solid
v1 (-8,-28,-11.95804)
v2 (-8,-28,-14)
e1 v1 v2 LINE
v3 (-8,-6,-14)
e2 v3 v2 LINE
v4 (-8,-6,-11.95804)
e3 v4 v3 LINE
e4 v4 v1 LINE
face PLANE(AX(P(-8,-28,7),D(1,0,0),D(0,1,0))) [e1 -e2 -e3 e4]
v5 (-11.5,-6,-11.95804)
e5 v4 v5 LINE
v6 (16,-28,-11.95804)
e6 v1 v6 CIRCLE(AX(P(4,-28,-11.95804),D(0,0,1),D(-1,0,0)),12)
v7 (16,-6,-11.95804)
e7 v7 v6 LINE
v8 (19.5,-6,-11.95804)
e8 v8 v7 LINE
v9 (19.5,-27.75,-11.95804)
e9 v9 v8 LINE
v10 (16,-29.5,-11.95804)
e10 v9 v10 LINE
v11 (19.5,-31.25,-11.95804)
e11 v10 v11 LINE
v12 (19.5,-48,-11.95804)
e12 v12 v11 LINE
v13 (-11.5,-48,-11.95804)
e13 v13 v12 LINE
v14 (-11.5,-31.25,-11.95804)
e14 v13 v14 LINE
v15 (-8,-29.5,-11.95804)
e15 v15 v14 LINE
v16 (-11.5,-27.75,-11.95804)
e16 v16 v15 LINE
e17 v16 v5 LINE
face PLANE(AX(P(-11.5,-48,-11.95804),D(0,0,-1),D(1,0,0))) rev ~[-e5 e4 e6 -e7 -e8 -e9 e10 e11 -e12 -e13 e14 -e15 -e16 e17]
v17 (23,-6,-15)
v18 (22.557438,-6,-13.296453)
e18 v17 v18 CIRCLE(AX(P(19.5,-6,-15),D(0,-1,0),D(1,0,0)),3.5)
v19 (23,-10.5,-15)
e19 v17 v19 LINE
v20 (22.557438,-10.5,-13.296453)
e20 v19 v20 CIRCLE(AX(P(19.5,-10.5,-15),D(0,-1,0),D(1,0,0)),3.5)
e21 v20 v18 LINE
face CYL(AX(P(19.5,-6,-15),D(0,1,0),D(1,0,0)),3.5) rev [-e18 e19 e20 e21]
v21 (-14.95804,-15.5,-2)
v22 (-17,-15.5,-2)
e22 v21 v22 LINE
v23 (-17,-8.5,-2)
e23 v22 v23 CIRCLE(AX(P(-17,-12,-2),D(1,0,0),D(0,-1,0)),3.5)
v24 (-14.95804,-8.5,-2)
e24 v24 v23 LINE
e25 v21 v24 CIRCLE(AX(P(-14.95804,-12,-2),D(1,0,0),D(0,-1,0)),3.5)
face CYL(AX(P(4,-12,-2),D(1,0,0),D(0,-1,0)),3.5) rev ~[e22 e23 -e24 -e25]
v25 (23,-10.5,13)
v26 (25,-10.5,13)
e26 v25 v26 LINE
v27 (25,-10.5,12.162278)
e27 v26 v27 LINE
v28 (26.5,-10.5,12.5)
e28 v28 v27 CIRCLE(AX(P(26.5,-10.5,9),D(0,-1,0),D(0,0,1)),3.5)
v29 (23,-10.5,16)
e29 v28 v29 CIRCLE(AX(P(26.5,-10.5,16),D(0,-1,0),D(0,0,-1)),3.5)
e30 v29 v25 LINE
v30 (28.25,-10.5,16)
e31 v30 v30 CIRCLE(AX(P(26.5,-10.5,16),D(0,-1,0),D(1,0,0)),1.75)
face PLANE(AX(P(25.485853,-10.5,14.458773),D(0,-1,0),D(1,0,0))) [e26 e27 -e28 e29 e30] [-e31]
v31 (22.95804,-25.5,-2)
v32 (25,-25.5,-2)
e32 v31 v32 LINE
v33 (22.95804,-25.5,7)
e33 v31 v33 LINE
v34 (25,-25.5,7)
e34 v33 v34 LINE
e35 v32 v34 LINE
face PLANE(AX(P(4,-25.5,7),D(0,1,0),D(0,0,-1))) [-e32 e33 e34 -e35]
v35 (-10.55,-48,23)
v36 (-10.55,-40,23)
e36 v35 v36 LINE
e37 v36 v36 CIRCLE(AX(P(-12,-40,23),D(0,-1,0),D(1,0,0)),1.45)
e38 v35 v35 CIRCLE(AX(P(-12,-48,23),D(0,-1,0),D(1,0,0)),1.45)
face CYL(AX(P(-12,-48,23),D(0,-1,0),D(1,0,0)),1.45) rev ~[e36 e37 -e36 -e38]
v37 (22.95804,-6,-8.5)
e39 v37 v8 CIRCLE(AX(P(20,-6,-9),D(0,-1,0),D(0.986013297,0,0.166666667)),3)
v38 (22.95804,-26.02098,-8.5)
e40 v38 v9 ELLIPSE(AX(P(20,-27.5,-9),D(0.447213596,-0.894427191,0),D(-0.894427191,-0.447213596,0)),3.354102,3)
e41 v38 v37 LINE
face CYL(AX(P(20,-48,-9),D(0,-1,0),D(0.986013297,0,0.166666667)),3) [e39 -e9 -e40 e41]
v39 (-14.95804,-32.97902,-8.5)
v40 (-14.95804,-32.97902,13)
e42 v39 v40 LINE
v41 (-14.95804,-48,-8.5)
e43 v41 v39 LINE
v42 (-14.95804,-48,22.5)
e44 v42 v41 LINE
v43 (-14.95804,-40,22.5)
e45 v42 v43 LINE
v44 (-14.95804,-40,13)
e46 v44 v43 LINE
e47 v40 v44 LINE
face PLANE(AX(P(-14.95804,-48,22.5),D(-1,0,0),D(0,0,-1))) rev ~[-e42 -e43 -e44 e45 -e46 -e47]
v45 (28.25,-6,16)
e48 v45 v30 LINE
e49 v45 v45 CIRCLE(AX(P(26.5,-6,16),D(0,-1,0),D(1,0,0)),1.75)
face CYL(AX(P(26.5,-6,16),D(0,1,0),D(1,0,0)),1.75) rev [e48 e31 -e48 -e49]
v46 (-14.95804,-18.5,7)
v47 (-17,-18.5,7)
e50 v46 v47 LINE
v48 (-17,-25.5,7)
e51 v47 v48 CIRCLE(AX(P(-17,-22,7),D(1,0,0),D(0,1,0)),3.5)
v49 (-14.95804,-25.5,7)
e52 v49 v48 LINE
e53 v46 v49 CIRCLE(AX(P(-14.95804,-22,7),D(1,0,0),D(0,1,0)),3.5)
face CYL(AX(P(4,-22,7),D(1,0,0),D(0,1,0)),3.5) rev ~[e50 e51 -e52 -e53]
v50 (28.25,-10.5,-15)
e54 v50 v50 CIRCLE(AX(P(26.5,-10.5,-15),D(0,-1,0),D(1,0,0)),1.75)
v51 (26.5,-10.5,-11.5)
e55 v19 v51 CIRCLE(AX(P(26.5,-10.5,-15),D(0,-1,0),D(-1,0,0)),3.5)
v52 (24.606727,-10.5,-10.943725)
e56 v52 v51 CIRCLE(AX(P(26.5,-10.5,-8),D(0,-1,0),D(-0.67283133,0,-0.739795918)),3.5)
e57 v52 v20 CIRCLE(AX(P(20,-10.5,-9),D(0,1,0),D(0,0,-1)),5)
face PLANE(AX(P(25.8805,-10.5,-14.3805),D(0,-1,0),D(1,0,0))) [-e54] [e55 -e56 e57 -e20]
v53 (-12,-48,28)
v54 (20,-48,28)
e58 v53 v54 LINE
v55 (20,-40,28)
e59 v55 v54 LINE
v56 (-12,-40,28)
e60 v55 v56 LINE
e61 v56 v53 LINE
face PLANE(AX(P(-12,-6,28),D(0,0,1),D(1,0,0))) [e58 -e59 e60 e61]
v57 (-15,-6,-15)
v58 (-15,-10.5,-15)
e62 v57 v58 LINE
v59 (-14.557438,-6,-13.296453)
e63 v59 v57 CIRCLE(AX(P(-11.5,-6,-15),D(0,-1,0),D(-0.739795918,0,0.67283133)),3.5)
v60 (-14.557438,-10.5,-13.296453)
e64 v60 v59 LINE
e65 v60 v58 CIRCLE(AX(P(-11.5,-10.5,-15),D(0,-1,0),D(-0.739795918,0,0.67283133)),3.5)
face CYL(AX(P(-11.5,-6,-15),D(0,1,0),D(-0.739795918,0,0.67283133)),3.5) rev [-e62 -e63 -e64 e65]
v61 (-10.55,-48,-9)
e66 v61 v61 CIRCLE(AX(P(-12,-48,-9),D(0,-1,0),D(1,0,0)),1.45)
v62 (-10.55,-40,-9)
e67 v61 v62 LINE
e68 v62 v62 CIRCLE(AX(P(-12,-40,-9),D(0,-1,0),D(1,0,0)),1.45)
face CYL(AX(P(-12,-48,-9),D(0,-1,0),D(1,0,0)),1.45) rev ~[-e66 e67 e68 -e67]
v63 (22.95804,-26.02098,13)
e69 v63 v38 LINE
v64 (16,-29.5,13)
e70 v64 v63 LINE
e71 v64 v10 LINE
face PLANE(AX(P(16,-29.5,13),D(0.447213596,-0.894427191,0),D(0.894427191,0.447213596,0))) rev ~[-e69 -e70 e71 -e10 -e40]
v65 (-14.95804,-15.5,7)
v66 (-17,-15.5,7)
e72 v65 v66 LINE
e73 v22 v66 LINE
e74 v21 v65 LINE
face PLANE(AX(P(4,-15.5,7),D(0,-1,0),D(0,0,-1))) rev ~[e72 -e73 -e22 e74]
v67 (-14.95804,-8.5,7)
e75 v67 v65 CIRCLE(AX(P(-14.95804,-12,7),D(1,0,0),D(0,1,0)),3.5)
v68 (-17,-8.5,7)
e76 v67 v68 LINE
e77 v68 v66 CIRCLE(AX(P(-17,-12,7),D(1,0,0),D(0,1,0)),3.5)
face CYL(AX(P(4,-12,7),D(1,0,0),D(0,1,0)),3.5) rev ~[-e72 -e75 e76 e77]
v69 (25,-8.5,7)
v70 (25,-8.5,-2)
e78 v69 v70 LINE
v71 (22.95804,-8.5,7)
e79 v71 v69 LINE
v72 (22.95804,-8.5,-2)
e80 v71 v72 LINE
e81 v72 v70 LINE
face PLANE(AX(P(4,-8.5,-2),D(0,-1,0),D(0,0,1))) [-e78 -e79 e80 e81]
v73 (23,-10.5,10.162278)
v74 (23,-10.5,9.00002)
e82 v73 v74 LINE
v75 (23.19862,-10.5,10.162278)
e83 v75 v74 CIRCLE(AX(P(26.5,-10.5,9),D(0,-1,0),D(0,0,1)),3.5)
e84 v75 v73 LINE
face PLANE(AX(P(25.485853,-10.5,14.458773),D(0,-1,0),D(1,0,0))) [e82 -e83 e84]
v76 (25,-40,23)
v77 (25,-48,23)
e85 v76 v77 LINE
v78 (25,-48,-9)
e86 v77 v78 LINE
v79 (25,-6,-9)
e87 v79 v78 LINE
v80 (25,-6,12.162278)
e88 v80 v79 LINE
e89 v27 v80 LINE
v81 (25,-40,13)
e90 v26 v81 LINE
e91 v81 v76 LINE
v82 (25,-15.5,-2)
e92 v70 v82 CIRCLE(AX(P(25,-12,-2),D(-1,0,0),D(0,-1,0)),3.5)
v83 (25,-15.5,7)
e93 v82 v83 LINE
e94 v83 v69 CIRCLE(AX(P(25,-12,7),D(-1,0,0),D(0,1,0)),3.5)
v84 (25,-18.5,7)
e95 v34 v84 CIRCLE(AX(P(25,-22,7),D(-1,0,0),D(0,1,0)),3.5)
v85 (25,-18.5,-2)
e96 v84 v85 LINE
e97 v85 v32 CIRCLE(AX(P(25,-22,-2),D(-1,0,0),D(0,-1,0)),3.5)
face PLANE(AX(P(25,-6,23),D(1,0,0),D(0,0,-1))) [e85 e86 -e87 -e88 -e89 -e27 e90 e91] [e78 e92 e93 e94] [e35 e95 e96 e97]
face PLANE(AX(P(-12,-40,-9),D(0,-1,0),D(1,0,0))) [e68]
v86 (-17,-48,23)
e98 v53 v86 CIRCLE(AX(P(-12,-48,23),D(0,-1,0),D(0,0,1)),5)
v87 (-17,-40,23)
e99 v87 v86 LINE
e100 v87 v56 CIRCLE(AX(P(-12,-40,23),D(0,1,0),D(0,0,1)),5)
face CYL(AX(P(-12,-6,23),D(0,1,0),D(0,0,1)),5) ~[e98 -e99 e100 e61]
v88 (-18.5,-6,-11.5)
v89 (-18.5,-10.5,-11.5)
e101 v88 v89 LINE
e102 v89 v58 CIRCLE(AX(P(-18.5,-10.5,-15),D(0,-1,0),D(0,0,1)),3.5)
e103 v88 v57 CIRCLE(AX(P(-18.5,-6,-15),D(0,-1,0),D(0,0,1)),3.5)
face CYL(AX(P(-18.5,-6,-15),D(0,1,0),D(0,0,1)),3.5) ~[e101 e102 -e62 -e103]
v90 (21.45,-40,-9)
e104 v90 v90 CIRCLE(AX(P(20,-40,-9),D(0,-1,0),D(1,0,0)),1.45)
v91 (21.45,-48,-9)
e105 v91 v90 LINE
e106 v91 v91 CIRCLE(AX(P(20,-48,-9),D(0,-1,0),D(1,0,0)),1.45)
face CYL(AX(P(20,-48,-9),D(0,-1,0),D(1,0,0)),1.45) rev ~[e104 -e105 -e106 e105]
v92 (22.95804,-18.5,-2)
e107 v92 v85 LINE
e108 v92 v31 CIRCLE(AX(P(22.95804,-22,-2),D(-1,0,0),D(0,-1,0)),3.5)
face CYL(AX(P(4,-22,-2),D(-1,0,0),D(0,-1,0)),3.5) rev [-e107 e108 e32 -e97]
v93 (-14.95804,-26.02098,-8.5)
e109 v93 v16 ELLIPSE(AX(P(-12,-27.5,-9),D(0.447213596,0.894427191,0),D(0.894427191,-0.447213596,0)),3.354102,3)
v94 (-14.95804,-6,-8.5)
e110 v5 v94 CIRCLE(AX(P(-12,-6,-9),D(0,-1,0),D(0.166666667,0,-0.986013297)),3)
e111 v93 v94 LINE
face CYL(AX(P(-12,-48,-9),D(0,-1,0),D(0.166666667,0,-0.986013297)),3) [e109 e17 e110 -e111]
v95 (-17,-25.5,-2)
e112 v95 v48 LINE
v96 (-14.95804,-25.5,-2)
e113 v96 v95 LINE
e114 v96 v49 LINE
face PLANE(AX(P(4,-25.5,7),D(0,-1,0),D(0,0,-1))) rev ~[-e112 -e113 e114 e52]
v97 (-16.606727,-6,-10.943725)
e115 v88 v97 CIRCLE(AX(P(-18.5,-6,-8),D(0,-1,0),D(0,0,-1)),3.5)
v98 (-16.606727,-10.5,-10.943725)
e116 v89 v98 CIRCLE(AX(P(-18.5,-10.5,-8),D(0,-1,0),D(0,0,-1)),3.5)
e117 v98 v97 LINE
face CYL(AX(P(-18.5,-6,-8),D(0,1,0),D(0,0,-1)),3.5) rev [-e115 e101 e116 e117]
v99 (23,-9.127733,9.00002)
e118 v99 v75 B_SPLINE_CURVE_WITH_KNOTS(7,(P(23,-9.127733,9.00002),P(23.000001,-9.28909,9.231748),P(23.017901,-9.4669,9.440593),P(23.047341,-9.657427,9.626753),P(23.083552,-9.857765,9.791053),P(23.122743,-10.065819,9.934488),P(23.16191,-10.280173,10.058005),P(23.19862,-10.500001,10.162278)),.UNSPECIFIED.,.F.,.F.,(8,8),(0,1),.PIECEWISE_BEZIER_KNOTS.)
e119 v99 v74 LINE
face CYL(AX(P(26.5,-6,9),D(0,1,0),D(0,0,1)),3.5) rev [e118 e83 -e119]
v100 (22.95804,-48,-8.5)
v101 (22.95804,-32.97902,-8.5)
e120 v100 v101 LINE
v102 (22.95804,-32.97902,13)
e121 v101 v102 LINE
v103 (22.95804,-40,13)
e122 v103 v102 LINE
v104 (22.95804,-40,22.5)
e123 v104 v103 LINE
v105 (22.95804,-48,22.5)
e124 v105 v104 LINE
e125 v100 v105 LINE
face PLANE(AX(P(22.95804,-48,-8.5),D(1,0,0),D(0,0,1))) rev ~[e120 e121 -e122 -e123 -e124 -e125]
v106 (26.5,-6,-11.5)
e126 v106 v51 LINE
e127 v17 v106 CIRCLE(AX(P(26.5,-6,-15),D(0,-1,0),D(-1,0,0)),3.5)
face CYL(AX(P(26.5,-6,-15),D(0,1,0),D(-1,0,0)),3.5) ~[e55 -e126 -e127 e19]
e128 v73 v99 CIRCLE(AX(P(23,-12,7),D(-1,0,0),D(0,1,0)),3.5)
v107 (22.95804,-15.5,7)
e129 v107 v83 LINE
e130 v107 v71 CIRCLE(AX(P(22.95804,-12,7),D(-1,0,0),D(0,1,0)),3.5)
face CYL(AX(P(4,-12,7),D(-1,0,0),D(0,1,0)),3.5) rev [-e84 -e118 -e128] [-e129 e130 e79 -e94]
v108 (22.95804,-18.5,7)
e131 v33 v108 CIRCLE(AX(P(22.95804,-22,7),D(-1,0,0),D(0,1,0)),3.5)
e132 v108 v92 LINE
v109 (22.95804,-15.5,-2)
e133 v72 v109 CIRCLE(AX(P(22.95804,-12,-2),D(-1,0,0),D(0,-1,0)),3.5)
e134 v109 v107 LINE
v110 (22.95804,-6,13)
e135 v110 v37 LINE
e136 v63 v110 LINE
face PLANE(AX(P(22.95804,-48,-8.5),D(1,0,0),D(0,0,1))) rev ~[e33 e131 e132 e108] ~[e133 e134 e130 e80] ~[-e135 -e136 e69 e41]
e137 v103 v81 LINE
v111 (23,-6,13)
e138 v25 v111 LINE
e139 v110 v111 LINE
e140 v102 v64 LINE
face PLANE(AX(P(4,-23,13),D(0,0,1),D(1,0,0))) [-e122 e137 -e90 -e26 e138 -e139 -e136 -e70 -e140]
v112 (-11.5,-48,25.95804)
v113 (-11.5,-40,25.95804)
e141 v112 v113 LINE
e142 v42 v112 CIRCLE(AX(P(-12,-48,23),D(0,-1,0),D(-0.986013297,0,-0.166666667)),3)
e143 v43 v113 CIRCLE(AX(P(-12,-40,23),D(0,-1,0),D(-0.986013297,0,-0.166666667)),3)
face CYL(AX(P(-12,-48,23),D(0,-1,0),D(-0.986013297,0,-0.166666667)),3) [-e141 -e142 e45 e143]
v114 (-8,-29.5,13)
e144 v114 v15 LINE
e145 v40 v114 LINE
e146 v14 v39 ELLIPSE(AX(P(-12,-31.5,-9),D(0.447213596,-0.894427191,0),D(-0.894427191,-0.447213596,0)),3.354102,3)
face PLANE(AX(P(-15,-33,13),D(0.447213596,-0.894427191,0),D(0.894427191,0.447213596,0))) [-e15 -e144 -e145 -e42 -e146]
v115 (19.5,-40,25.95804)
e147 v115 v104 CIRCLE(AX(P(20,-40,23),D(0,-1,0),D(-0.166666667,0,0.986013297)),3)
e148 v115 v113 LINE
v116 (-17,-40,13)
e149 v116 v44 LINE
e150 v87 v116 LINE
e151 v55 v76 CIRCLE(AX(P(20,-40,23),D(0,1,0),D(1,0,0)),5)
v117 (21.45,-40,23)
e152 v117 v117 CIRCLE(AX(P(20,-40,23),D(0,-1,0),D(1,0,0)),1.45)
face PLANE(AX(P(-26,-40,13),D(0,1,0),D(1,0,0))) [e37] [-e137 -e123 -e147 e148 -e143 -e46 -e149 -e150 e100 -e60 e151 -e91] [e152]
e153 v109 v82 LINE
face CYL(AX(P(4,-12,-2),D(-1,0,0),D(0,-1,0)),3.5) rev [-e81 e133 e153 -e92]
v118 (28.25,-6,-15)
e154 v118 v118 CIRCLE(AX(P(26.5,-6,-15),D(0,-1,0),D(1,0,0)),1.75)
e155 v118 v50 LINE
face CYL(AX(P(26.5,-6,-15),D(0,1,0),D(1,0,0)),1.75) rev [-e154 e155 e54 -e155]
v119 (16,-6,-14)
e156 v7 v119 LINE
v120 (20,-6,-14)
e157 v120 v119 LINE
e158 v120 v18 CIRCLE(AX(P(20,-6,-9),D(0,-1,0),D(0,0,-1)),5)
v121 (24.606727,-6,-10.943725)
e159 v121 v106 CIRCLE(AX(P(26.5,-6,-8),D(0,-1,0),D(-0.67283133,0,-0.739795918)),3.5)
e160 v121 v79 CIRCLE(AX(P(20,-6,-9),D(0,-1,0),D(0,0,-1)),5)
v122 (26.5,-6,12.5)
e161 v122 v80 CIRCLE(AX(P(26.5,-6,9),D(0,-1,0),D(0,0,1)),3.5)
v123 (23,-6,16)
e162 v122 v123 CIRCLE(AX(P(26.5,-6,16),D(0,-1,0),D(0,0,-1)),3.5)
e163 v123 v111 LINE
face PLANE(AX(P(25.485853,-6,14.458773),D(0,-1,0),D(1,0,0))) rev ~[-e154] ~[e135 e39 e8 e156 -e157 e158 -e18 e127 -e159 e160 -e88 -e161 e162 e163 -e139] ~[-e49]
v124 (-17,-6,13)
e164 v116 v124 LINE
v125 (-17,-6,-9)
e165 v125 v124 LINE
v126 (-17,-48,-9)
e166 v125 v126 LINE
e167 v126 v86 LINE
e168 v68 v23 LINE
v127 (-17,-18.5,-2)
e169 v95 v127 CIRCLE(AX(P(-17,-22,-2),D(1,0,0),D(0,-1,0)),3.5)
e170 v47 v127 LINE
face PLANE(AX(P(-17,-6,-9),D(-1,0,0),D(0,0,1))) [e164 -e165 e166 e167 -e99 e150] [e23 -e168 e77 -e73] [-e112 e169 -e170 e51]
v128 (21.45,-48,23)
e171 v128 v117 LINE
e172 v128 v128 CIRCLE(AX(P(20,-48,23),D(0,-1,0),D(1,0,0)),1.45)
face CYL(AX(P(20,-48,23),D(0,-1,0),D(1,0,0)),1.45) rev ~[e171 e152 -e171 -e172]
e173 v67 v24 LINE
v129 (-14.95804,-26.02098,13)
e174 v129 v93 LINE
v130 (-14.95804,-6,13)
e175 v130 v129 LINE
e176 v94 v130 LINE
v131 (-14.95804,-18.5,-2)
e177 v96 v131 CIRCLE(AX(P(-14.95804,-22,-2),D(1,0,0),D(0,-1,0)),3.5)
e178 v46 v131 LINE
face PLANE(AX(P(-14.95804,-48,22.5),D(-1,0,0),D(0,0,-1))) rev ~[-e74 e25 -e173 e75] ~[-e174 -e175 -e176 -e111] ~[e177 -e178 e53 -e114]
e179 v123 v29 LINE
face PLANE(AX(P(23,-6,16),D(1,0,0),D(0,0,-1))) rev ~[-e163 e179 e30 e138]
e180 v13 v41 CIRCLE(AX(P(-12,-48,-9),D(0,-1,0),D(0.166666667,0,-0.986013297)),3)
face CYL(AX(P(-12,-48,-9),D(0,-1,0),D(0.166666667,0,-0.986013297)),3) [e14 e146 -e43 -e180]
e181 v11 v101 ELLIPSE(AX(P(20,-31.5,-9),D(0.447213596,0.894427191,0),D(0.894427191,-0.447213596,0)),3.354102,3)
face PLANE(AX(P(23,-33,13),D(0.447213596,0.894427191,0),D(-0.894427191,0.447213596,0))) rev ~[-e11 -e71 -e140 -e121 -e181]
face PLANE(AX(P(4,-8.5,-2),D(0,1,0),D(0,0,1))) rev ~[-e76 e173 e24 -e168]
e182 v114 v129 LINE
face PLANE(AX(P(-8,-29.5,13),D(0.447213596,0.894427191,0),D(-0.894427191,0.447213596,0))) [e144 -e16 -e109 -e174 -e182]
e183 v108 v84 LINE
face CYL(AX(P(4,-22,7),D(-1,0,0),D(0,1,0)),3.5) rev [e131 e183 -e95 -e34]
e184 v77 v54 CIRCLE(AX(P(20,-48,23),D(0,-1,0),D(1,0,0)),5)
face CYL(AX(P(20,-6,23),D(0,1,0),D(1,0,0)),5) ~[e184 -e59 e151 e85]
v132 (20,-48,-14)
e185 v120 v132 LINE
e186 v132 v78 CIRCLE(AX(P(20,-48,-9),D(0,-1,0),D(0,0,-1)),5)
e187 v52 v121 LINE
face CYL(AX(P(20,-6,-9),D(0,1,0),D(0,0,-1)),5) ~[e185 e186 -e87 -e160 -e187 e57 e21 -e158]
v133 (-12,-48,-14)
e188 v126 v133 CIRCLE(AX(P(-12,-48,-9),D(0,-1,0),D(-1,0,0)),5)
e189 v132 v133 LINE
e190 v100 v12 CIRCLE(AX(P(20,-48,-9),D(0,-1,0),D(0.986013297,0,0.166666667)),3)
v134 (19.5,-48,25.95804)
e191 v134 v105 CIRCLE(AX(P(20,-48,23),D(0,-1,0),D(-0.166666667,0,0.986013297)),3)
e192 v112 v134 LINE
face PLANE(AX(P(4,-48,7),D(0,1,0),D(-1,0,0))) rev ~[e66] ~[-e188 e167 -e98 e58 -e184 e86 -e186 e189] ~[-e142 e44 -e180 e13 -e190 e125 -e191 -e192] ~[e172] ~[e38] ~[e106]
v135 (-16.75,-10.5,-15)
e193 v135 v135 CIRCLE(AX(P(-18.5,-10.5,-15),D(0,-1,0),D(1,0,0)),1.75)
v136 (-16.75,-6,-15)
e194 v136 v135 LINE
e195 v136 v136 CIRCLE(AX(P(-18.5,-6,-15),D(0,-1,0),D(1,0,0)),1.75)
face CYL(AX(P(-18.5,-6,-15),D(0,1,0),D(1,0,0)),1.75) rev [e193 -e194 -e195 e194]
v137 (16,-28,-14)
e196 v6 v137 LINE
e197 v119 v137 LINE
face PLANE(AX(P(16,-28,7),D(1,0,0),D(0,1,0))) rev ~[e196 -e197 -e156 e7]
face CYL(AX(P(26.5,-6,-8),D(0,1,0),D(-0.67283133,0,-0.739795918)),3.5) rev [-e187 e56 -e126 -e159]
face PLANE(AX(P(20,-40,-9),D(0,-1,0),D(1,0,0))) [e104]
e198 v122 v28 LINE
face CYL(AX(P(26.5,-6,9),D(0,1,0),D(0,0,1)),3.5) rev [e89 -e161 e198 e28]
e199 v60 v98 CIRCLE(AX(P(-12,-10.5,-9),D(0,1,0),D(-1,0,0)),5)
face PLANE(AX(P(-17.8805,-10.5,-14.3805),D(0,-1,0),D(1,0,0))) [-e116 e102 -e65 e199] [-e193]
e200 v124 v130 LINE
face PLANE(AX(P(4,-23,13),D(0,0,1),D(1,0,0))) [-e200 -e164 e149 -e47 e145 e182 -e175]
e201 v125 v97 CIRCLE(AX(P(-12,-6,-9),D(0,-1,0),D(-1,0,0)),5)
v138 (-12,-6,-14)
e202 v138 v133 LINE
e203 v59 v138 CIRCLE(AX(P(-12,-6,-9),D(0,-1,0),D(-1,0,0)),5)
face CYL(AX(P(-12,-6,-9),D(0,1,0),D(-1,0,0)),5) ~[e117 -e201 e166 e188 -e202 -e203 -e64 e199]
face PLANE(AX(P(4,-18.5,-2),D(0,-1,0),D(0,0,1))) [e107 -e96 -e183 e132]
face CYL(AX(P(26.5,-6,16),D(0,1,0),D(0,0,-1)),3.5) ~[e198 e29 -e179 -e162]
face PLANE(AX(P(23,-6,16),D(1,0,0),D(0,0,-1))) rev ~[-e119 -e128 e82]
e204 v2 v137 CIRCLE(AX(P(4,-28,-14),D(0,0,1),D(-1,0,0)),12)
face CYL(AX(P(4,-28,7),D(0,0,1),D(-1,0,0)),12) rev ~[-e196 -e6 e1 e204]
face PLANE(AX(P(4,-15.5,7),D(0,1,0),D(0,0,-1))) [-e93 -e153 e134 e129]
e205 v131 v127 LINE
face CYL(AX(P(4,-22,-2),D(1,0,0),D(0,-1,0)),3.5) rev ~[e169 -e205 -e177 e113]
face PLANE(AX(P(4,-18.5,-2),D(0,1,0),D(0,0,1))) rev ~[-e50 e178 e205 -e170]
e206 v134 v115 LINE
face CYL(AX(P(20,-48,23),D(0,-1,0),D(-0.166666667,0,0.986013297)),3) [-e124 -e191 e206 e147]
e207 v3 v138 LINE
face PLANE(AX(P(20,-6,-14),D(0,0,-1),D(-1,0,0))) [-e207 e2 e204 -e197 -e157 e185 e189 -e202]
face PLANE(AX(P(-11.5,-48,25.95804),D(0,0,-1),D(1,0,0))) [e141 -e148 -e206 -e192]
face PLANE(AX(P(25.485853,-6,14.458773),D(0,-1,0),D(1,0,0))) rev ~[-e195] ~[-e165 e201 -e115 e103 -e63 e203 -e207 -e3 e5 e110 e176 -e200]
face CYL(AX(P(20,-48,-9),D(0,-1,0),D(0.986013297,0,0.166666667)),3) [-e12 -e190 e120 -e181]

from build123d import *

# Parameters (mm, degrees)
PAD003_DEPTH         = 42
SKETCH008_W          = 60
SKETCH008_H          = 34
POCKET004_DEPTH      = 15.001
SKETCH009_R          = 1.45
POCKET005_DEPTH      = 8
POCKET006_DEPTH      = 42.001
POCKET008_DEPTH      = 21.001
POCKET008_DEPTH_BACK = 21.001
SKETCH013_R          = 1.75
PAD004_DEPTH         = 4.5
POCKET_DEPTH         = 25.501
PAD015_DEPTH         = 25


with BuildPart() as part:
    # Sketch006 → Pad003 (new body)
    with BuildSketch(Plane.XZ):
        with BuildLine():
            Line((-16, 21), (16, 21))
            ThreePointArc((21, 16), (19.5355339059, 19.5355339059), (16, 21))
            Line((21, 16), (21, -16))
            ThreePointArc((16, -21), (19.5355339059, -19.5355339059), (21, -16))
            Line((16, -21), (-16, -21))
            ThreePointArc((-21, -16), (-19.5355339059, -19.5355339059), (-16, -21))
            Line((-21, -16), (-21, 16))
            ThreePointArc((-16, 21), (-19.5355339059, 19.5355339059), (-21, 16))
        make_face()
    extrude(amount=PAD003_DEPTH)

    # Sketch008 (on DatumPlane) → Pocket004 (cut, through all)
    with BuildSketch(Plane.XY.offset(6)):
        with Locations((0, -17)):
            Rectangle(SKETCH008_W, SKETCH008_H)
    extrude(amount=POCKET004_DEPTH, mode=Mode.SUBTRACT)

    # Sketch009 (on DatumPlane) → Pocket005 (cut)
    with BuildSketch(Plane.XZ.offset(42)):
        with Locations((-16, 16)):
            Circle(SKETCH009_R)
        with Locations((16, 16)):
            Circle(SKETCH009_R)
        with Locations((-16, -16)):
            Circle(SKETCH009_R)
        with Locations((16, -16)):
            Circle(SKETCH009_R)
    extrude(amount=-POCKET005_DEPTH, mode=Mode.SUBTRACT)

    # Sketch010 (on DatumPlane) → Pocket006 (cut, through all)
    with BuildSketch(Plane.XZ.offset(42)):
        with BuildLine():
            Line((-18.9580398915, 15.5), (-18.9580398915, -15.5))
            ThreePointArc((-15.5, -18.9580398915), (-13.8786796564, -13.8786796564), (-18.9580398915, -15.5))
            Line((-15.5, -18.9580398915), (15.5, -18.9580398915))
            ThreePointArc((18.9580398915, -15.5), (13.8786796564, -13.8786796564), (15.5, -18.9580398915))
            Line((18.9580398915, -15.5), (18.9580398915, 15.5))
            ThreePointArc((15.5, 18.9580398915), (13.8786796564, 13.8786796564), (18.9580398915, 15.5))
            Line((-15.5, 18.9580398915), (15.5, 18.9580398915))
            ThreePointArc((-18.9580398915, 15.5), (-13.8786796564, 13.8786796564), (-15.5, 18.9580398915))
        make_face()
    extrude(amount=-POCKET006_DEPTH, mode=Mode.SUBTRACT)

    # Sketch012 → Pocket008 (cut, two sides)
    with BuildSketch(Plane.YZ) as pocket008_sk:
        with BuildLine():
            ThreePointArc((-2.5, 0), (-6, 3.5), (-9.5, 0))
            Line((-9.5, 0), (-9.5, -9))
            ThreePointArc((-9.5, -9), (-6, -12.5), (-2.5, -9))
            Line((-2.5, -9), (-2.5, 0))
        make_face()
        with BuildLine():
            ThreePointArc((-12.5, 0), (-16, 3.5), (-19.5, 0))
            Line((-19.5, 0), (-19.5, -9))
            ThreePointArc((-19.5, -9), (-16, -12.5), (-12.5, -9))
            Line((-12.5, -9), (-12.5, 0))
        make_face()
    extrude(amount=-POCKET008_DEPTH, mode=Mode.SUBTRACT)
    extrude(pocket008_sk.sketch, amount=POCKET008_DEPTH_BACK, mode=Mode.SUBTRACT)

    # Sketch013 → Pad004 (join)
    with BuildSketch(Plane.XZ):
        with BuildLine():
            ThreePointArc((22.5, 5.5), (24.9748737342, 11.4748737342), (19, 9))
            Line((19.0000000001, 9), (19.0000000001, 2.0000200959))
            ThreePointArc((22.5, 5.5), (20.0251333708, 4.4748808391), (19.0000000001, 2.0000200959))
        make_face()
        with Locations((22.5, 9)):
            Circle(SKETCH013_R, mode=Mode.SUBTRACT)
        with BuildLine():
            ThreePointArc((-22.5, -18.5), (-24.9748737342, -24.4748737342), (-19, -22))
            ThreePointArc((-18.0892857143, -19.6450903436), (-18.7643912143, -20.7375618827), (-19, -22))
            Line((-20.1450903436, -17.5892857143), (-18.0892857143, -19.6450903436))
            ThreePointArc((-22.5, -18.5), (-21.2375618827, -18.2643912143), (-20.1450903436, -17.5892857143))
        make_face()
        with Locations((-22.5, -22)):
            Circle(SKETCH013_R, mode=Mode.SUBTRACT)
        with BuildLine():
            ThreePointArc((19, -22), (24.9748737342, -24.4748737342), (22.5, -18.5))
            ThreePointArc((20.1450903436, -17.5892857143), (21.2375618827, -18.2643912143), (22.5, -18.5))
            Line((18.0892857143, -19.6450903436), (20.1450903436, -17.5892857143))
            ThreePointArc((19, -22), (18.7643912143, -20.7375618827), (18.0892857143, -19.6450903436))
        make_face()
        with Locations((22.5, -22)):
            Circle(SKETCH013_R, mode=Mode.SUBTRACT)
    extrude(amount=PAD004_DEPTH)

    # Sketch015 → Pocket (cut, through all)
    with BuildSketch(Plane.XY):
        with BuildLine():
            ThreePointArc((-12, -22), (0, -34), (12, -22))
            Line((12, -22), (12, 0))
            Line((-12, 0), (12, 0))
            Line((-12, -22), (-12, 0))
        make_face()
    extrude(amount=-POCKET_DEPTH, mode=Mode.SUBTRACT)

    # Sketch040 (on DatumPlane) → Pad015 (join)
    with BuildSketch(Plane.XY.offset(6)):
        Polygon((-19, -20), (-19, -27), (-12, -23.5), align=None)
        Polygon((19, -20), (19, -27), (12, -23.5), align=None)
    extrude(amount=-PAD015_DEPTH)


with BuildPart() as part_1:
    # Body placement: moved
    add(part.part.moved(Location((4, -6, 7))))


solid = part_1.part
